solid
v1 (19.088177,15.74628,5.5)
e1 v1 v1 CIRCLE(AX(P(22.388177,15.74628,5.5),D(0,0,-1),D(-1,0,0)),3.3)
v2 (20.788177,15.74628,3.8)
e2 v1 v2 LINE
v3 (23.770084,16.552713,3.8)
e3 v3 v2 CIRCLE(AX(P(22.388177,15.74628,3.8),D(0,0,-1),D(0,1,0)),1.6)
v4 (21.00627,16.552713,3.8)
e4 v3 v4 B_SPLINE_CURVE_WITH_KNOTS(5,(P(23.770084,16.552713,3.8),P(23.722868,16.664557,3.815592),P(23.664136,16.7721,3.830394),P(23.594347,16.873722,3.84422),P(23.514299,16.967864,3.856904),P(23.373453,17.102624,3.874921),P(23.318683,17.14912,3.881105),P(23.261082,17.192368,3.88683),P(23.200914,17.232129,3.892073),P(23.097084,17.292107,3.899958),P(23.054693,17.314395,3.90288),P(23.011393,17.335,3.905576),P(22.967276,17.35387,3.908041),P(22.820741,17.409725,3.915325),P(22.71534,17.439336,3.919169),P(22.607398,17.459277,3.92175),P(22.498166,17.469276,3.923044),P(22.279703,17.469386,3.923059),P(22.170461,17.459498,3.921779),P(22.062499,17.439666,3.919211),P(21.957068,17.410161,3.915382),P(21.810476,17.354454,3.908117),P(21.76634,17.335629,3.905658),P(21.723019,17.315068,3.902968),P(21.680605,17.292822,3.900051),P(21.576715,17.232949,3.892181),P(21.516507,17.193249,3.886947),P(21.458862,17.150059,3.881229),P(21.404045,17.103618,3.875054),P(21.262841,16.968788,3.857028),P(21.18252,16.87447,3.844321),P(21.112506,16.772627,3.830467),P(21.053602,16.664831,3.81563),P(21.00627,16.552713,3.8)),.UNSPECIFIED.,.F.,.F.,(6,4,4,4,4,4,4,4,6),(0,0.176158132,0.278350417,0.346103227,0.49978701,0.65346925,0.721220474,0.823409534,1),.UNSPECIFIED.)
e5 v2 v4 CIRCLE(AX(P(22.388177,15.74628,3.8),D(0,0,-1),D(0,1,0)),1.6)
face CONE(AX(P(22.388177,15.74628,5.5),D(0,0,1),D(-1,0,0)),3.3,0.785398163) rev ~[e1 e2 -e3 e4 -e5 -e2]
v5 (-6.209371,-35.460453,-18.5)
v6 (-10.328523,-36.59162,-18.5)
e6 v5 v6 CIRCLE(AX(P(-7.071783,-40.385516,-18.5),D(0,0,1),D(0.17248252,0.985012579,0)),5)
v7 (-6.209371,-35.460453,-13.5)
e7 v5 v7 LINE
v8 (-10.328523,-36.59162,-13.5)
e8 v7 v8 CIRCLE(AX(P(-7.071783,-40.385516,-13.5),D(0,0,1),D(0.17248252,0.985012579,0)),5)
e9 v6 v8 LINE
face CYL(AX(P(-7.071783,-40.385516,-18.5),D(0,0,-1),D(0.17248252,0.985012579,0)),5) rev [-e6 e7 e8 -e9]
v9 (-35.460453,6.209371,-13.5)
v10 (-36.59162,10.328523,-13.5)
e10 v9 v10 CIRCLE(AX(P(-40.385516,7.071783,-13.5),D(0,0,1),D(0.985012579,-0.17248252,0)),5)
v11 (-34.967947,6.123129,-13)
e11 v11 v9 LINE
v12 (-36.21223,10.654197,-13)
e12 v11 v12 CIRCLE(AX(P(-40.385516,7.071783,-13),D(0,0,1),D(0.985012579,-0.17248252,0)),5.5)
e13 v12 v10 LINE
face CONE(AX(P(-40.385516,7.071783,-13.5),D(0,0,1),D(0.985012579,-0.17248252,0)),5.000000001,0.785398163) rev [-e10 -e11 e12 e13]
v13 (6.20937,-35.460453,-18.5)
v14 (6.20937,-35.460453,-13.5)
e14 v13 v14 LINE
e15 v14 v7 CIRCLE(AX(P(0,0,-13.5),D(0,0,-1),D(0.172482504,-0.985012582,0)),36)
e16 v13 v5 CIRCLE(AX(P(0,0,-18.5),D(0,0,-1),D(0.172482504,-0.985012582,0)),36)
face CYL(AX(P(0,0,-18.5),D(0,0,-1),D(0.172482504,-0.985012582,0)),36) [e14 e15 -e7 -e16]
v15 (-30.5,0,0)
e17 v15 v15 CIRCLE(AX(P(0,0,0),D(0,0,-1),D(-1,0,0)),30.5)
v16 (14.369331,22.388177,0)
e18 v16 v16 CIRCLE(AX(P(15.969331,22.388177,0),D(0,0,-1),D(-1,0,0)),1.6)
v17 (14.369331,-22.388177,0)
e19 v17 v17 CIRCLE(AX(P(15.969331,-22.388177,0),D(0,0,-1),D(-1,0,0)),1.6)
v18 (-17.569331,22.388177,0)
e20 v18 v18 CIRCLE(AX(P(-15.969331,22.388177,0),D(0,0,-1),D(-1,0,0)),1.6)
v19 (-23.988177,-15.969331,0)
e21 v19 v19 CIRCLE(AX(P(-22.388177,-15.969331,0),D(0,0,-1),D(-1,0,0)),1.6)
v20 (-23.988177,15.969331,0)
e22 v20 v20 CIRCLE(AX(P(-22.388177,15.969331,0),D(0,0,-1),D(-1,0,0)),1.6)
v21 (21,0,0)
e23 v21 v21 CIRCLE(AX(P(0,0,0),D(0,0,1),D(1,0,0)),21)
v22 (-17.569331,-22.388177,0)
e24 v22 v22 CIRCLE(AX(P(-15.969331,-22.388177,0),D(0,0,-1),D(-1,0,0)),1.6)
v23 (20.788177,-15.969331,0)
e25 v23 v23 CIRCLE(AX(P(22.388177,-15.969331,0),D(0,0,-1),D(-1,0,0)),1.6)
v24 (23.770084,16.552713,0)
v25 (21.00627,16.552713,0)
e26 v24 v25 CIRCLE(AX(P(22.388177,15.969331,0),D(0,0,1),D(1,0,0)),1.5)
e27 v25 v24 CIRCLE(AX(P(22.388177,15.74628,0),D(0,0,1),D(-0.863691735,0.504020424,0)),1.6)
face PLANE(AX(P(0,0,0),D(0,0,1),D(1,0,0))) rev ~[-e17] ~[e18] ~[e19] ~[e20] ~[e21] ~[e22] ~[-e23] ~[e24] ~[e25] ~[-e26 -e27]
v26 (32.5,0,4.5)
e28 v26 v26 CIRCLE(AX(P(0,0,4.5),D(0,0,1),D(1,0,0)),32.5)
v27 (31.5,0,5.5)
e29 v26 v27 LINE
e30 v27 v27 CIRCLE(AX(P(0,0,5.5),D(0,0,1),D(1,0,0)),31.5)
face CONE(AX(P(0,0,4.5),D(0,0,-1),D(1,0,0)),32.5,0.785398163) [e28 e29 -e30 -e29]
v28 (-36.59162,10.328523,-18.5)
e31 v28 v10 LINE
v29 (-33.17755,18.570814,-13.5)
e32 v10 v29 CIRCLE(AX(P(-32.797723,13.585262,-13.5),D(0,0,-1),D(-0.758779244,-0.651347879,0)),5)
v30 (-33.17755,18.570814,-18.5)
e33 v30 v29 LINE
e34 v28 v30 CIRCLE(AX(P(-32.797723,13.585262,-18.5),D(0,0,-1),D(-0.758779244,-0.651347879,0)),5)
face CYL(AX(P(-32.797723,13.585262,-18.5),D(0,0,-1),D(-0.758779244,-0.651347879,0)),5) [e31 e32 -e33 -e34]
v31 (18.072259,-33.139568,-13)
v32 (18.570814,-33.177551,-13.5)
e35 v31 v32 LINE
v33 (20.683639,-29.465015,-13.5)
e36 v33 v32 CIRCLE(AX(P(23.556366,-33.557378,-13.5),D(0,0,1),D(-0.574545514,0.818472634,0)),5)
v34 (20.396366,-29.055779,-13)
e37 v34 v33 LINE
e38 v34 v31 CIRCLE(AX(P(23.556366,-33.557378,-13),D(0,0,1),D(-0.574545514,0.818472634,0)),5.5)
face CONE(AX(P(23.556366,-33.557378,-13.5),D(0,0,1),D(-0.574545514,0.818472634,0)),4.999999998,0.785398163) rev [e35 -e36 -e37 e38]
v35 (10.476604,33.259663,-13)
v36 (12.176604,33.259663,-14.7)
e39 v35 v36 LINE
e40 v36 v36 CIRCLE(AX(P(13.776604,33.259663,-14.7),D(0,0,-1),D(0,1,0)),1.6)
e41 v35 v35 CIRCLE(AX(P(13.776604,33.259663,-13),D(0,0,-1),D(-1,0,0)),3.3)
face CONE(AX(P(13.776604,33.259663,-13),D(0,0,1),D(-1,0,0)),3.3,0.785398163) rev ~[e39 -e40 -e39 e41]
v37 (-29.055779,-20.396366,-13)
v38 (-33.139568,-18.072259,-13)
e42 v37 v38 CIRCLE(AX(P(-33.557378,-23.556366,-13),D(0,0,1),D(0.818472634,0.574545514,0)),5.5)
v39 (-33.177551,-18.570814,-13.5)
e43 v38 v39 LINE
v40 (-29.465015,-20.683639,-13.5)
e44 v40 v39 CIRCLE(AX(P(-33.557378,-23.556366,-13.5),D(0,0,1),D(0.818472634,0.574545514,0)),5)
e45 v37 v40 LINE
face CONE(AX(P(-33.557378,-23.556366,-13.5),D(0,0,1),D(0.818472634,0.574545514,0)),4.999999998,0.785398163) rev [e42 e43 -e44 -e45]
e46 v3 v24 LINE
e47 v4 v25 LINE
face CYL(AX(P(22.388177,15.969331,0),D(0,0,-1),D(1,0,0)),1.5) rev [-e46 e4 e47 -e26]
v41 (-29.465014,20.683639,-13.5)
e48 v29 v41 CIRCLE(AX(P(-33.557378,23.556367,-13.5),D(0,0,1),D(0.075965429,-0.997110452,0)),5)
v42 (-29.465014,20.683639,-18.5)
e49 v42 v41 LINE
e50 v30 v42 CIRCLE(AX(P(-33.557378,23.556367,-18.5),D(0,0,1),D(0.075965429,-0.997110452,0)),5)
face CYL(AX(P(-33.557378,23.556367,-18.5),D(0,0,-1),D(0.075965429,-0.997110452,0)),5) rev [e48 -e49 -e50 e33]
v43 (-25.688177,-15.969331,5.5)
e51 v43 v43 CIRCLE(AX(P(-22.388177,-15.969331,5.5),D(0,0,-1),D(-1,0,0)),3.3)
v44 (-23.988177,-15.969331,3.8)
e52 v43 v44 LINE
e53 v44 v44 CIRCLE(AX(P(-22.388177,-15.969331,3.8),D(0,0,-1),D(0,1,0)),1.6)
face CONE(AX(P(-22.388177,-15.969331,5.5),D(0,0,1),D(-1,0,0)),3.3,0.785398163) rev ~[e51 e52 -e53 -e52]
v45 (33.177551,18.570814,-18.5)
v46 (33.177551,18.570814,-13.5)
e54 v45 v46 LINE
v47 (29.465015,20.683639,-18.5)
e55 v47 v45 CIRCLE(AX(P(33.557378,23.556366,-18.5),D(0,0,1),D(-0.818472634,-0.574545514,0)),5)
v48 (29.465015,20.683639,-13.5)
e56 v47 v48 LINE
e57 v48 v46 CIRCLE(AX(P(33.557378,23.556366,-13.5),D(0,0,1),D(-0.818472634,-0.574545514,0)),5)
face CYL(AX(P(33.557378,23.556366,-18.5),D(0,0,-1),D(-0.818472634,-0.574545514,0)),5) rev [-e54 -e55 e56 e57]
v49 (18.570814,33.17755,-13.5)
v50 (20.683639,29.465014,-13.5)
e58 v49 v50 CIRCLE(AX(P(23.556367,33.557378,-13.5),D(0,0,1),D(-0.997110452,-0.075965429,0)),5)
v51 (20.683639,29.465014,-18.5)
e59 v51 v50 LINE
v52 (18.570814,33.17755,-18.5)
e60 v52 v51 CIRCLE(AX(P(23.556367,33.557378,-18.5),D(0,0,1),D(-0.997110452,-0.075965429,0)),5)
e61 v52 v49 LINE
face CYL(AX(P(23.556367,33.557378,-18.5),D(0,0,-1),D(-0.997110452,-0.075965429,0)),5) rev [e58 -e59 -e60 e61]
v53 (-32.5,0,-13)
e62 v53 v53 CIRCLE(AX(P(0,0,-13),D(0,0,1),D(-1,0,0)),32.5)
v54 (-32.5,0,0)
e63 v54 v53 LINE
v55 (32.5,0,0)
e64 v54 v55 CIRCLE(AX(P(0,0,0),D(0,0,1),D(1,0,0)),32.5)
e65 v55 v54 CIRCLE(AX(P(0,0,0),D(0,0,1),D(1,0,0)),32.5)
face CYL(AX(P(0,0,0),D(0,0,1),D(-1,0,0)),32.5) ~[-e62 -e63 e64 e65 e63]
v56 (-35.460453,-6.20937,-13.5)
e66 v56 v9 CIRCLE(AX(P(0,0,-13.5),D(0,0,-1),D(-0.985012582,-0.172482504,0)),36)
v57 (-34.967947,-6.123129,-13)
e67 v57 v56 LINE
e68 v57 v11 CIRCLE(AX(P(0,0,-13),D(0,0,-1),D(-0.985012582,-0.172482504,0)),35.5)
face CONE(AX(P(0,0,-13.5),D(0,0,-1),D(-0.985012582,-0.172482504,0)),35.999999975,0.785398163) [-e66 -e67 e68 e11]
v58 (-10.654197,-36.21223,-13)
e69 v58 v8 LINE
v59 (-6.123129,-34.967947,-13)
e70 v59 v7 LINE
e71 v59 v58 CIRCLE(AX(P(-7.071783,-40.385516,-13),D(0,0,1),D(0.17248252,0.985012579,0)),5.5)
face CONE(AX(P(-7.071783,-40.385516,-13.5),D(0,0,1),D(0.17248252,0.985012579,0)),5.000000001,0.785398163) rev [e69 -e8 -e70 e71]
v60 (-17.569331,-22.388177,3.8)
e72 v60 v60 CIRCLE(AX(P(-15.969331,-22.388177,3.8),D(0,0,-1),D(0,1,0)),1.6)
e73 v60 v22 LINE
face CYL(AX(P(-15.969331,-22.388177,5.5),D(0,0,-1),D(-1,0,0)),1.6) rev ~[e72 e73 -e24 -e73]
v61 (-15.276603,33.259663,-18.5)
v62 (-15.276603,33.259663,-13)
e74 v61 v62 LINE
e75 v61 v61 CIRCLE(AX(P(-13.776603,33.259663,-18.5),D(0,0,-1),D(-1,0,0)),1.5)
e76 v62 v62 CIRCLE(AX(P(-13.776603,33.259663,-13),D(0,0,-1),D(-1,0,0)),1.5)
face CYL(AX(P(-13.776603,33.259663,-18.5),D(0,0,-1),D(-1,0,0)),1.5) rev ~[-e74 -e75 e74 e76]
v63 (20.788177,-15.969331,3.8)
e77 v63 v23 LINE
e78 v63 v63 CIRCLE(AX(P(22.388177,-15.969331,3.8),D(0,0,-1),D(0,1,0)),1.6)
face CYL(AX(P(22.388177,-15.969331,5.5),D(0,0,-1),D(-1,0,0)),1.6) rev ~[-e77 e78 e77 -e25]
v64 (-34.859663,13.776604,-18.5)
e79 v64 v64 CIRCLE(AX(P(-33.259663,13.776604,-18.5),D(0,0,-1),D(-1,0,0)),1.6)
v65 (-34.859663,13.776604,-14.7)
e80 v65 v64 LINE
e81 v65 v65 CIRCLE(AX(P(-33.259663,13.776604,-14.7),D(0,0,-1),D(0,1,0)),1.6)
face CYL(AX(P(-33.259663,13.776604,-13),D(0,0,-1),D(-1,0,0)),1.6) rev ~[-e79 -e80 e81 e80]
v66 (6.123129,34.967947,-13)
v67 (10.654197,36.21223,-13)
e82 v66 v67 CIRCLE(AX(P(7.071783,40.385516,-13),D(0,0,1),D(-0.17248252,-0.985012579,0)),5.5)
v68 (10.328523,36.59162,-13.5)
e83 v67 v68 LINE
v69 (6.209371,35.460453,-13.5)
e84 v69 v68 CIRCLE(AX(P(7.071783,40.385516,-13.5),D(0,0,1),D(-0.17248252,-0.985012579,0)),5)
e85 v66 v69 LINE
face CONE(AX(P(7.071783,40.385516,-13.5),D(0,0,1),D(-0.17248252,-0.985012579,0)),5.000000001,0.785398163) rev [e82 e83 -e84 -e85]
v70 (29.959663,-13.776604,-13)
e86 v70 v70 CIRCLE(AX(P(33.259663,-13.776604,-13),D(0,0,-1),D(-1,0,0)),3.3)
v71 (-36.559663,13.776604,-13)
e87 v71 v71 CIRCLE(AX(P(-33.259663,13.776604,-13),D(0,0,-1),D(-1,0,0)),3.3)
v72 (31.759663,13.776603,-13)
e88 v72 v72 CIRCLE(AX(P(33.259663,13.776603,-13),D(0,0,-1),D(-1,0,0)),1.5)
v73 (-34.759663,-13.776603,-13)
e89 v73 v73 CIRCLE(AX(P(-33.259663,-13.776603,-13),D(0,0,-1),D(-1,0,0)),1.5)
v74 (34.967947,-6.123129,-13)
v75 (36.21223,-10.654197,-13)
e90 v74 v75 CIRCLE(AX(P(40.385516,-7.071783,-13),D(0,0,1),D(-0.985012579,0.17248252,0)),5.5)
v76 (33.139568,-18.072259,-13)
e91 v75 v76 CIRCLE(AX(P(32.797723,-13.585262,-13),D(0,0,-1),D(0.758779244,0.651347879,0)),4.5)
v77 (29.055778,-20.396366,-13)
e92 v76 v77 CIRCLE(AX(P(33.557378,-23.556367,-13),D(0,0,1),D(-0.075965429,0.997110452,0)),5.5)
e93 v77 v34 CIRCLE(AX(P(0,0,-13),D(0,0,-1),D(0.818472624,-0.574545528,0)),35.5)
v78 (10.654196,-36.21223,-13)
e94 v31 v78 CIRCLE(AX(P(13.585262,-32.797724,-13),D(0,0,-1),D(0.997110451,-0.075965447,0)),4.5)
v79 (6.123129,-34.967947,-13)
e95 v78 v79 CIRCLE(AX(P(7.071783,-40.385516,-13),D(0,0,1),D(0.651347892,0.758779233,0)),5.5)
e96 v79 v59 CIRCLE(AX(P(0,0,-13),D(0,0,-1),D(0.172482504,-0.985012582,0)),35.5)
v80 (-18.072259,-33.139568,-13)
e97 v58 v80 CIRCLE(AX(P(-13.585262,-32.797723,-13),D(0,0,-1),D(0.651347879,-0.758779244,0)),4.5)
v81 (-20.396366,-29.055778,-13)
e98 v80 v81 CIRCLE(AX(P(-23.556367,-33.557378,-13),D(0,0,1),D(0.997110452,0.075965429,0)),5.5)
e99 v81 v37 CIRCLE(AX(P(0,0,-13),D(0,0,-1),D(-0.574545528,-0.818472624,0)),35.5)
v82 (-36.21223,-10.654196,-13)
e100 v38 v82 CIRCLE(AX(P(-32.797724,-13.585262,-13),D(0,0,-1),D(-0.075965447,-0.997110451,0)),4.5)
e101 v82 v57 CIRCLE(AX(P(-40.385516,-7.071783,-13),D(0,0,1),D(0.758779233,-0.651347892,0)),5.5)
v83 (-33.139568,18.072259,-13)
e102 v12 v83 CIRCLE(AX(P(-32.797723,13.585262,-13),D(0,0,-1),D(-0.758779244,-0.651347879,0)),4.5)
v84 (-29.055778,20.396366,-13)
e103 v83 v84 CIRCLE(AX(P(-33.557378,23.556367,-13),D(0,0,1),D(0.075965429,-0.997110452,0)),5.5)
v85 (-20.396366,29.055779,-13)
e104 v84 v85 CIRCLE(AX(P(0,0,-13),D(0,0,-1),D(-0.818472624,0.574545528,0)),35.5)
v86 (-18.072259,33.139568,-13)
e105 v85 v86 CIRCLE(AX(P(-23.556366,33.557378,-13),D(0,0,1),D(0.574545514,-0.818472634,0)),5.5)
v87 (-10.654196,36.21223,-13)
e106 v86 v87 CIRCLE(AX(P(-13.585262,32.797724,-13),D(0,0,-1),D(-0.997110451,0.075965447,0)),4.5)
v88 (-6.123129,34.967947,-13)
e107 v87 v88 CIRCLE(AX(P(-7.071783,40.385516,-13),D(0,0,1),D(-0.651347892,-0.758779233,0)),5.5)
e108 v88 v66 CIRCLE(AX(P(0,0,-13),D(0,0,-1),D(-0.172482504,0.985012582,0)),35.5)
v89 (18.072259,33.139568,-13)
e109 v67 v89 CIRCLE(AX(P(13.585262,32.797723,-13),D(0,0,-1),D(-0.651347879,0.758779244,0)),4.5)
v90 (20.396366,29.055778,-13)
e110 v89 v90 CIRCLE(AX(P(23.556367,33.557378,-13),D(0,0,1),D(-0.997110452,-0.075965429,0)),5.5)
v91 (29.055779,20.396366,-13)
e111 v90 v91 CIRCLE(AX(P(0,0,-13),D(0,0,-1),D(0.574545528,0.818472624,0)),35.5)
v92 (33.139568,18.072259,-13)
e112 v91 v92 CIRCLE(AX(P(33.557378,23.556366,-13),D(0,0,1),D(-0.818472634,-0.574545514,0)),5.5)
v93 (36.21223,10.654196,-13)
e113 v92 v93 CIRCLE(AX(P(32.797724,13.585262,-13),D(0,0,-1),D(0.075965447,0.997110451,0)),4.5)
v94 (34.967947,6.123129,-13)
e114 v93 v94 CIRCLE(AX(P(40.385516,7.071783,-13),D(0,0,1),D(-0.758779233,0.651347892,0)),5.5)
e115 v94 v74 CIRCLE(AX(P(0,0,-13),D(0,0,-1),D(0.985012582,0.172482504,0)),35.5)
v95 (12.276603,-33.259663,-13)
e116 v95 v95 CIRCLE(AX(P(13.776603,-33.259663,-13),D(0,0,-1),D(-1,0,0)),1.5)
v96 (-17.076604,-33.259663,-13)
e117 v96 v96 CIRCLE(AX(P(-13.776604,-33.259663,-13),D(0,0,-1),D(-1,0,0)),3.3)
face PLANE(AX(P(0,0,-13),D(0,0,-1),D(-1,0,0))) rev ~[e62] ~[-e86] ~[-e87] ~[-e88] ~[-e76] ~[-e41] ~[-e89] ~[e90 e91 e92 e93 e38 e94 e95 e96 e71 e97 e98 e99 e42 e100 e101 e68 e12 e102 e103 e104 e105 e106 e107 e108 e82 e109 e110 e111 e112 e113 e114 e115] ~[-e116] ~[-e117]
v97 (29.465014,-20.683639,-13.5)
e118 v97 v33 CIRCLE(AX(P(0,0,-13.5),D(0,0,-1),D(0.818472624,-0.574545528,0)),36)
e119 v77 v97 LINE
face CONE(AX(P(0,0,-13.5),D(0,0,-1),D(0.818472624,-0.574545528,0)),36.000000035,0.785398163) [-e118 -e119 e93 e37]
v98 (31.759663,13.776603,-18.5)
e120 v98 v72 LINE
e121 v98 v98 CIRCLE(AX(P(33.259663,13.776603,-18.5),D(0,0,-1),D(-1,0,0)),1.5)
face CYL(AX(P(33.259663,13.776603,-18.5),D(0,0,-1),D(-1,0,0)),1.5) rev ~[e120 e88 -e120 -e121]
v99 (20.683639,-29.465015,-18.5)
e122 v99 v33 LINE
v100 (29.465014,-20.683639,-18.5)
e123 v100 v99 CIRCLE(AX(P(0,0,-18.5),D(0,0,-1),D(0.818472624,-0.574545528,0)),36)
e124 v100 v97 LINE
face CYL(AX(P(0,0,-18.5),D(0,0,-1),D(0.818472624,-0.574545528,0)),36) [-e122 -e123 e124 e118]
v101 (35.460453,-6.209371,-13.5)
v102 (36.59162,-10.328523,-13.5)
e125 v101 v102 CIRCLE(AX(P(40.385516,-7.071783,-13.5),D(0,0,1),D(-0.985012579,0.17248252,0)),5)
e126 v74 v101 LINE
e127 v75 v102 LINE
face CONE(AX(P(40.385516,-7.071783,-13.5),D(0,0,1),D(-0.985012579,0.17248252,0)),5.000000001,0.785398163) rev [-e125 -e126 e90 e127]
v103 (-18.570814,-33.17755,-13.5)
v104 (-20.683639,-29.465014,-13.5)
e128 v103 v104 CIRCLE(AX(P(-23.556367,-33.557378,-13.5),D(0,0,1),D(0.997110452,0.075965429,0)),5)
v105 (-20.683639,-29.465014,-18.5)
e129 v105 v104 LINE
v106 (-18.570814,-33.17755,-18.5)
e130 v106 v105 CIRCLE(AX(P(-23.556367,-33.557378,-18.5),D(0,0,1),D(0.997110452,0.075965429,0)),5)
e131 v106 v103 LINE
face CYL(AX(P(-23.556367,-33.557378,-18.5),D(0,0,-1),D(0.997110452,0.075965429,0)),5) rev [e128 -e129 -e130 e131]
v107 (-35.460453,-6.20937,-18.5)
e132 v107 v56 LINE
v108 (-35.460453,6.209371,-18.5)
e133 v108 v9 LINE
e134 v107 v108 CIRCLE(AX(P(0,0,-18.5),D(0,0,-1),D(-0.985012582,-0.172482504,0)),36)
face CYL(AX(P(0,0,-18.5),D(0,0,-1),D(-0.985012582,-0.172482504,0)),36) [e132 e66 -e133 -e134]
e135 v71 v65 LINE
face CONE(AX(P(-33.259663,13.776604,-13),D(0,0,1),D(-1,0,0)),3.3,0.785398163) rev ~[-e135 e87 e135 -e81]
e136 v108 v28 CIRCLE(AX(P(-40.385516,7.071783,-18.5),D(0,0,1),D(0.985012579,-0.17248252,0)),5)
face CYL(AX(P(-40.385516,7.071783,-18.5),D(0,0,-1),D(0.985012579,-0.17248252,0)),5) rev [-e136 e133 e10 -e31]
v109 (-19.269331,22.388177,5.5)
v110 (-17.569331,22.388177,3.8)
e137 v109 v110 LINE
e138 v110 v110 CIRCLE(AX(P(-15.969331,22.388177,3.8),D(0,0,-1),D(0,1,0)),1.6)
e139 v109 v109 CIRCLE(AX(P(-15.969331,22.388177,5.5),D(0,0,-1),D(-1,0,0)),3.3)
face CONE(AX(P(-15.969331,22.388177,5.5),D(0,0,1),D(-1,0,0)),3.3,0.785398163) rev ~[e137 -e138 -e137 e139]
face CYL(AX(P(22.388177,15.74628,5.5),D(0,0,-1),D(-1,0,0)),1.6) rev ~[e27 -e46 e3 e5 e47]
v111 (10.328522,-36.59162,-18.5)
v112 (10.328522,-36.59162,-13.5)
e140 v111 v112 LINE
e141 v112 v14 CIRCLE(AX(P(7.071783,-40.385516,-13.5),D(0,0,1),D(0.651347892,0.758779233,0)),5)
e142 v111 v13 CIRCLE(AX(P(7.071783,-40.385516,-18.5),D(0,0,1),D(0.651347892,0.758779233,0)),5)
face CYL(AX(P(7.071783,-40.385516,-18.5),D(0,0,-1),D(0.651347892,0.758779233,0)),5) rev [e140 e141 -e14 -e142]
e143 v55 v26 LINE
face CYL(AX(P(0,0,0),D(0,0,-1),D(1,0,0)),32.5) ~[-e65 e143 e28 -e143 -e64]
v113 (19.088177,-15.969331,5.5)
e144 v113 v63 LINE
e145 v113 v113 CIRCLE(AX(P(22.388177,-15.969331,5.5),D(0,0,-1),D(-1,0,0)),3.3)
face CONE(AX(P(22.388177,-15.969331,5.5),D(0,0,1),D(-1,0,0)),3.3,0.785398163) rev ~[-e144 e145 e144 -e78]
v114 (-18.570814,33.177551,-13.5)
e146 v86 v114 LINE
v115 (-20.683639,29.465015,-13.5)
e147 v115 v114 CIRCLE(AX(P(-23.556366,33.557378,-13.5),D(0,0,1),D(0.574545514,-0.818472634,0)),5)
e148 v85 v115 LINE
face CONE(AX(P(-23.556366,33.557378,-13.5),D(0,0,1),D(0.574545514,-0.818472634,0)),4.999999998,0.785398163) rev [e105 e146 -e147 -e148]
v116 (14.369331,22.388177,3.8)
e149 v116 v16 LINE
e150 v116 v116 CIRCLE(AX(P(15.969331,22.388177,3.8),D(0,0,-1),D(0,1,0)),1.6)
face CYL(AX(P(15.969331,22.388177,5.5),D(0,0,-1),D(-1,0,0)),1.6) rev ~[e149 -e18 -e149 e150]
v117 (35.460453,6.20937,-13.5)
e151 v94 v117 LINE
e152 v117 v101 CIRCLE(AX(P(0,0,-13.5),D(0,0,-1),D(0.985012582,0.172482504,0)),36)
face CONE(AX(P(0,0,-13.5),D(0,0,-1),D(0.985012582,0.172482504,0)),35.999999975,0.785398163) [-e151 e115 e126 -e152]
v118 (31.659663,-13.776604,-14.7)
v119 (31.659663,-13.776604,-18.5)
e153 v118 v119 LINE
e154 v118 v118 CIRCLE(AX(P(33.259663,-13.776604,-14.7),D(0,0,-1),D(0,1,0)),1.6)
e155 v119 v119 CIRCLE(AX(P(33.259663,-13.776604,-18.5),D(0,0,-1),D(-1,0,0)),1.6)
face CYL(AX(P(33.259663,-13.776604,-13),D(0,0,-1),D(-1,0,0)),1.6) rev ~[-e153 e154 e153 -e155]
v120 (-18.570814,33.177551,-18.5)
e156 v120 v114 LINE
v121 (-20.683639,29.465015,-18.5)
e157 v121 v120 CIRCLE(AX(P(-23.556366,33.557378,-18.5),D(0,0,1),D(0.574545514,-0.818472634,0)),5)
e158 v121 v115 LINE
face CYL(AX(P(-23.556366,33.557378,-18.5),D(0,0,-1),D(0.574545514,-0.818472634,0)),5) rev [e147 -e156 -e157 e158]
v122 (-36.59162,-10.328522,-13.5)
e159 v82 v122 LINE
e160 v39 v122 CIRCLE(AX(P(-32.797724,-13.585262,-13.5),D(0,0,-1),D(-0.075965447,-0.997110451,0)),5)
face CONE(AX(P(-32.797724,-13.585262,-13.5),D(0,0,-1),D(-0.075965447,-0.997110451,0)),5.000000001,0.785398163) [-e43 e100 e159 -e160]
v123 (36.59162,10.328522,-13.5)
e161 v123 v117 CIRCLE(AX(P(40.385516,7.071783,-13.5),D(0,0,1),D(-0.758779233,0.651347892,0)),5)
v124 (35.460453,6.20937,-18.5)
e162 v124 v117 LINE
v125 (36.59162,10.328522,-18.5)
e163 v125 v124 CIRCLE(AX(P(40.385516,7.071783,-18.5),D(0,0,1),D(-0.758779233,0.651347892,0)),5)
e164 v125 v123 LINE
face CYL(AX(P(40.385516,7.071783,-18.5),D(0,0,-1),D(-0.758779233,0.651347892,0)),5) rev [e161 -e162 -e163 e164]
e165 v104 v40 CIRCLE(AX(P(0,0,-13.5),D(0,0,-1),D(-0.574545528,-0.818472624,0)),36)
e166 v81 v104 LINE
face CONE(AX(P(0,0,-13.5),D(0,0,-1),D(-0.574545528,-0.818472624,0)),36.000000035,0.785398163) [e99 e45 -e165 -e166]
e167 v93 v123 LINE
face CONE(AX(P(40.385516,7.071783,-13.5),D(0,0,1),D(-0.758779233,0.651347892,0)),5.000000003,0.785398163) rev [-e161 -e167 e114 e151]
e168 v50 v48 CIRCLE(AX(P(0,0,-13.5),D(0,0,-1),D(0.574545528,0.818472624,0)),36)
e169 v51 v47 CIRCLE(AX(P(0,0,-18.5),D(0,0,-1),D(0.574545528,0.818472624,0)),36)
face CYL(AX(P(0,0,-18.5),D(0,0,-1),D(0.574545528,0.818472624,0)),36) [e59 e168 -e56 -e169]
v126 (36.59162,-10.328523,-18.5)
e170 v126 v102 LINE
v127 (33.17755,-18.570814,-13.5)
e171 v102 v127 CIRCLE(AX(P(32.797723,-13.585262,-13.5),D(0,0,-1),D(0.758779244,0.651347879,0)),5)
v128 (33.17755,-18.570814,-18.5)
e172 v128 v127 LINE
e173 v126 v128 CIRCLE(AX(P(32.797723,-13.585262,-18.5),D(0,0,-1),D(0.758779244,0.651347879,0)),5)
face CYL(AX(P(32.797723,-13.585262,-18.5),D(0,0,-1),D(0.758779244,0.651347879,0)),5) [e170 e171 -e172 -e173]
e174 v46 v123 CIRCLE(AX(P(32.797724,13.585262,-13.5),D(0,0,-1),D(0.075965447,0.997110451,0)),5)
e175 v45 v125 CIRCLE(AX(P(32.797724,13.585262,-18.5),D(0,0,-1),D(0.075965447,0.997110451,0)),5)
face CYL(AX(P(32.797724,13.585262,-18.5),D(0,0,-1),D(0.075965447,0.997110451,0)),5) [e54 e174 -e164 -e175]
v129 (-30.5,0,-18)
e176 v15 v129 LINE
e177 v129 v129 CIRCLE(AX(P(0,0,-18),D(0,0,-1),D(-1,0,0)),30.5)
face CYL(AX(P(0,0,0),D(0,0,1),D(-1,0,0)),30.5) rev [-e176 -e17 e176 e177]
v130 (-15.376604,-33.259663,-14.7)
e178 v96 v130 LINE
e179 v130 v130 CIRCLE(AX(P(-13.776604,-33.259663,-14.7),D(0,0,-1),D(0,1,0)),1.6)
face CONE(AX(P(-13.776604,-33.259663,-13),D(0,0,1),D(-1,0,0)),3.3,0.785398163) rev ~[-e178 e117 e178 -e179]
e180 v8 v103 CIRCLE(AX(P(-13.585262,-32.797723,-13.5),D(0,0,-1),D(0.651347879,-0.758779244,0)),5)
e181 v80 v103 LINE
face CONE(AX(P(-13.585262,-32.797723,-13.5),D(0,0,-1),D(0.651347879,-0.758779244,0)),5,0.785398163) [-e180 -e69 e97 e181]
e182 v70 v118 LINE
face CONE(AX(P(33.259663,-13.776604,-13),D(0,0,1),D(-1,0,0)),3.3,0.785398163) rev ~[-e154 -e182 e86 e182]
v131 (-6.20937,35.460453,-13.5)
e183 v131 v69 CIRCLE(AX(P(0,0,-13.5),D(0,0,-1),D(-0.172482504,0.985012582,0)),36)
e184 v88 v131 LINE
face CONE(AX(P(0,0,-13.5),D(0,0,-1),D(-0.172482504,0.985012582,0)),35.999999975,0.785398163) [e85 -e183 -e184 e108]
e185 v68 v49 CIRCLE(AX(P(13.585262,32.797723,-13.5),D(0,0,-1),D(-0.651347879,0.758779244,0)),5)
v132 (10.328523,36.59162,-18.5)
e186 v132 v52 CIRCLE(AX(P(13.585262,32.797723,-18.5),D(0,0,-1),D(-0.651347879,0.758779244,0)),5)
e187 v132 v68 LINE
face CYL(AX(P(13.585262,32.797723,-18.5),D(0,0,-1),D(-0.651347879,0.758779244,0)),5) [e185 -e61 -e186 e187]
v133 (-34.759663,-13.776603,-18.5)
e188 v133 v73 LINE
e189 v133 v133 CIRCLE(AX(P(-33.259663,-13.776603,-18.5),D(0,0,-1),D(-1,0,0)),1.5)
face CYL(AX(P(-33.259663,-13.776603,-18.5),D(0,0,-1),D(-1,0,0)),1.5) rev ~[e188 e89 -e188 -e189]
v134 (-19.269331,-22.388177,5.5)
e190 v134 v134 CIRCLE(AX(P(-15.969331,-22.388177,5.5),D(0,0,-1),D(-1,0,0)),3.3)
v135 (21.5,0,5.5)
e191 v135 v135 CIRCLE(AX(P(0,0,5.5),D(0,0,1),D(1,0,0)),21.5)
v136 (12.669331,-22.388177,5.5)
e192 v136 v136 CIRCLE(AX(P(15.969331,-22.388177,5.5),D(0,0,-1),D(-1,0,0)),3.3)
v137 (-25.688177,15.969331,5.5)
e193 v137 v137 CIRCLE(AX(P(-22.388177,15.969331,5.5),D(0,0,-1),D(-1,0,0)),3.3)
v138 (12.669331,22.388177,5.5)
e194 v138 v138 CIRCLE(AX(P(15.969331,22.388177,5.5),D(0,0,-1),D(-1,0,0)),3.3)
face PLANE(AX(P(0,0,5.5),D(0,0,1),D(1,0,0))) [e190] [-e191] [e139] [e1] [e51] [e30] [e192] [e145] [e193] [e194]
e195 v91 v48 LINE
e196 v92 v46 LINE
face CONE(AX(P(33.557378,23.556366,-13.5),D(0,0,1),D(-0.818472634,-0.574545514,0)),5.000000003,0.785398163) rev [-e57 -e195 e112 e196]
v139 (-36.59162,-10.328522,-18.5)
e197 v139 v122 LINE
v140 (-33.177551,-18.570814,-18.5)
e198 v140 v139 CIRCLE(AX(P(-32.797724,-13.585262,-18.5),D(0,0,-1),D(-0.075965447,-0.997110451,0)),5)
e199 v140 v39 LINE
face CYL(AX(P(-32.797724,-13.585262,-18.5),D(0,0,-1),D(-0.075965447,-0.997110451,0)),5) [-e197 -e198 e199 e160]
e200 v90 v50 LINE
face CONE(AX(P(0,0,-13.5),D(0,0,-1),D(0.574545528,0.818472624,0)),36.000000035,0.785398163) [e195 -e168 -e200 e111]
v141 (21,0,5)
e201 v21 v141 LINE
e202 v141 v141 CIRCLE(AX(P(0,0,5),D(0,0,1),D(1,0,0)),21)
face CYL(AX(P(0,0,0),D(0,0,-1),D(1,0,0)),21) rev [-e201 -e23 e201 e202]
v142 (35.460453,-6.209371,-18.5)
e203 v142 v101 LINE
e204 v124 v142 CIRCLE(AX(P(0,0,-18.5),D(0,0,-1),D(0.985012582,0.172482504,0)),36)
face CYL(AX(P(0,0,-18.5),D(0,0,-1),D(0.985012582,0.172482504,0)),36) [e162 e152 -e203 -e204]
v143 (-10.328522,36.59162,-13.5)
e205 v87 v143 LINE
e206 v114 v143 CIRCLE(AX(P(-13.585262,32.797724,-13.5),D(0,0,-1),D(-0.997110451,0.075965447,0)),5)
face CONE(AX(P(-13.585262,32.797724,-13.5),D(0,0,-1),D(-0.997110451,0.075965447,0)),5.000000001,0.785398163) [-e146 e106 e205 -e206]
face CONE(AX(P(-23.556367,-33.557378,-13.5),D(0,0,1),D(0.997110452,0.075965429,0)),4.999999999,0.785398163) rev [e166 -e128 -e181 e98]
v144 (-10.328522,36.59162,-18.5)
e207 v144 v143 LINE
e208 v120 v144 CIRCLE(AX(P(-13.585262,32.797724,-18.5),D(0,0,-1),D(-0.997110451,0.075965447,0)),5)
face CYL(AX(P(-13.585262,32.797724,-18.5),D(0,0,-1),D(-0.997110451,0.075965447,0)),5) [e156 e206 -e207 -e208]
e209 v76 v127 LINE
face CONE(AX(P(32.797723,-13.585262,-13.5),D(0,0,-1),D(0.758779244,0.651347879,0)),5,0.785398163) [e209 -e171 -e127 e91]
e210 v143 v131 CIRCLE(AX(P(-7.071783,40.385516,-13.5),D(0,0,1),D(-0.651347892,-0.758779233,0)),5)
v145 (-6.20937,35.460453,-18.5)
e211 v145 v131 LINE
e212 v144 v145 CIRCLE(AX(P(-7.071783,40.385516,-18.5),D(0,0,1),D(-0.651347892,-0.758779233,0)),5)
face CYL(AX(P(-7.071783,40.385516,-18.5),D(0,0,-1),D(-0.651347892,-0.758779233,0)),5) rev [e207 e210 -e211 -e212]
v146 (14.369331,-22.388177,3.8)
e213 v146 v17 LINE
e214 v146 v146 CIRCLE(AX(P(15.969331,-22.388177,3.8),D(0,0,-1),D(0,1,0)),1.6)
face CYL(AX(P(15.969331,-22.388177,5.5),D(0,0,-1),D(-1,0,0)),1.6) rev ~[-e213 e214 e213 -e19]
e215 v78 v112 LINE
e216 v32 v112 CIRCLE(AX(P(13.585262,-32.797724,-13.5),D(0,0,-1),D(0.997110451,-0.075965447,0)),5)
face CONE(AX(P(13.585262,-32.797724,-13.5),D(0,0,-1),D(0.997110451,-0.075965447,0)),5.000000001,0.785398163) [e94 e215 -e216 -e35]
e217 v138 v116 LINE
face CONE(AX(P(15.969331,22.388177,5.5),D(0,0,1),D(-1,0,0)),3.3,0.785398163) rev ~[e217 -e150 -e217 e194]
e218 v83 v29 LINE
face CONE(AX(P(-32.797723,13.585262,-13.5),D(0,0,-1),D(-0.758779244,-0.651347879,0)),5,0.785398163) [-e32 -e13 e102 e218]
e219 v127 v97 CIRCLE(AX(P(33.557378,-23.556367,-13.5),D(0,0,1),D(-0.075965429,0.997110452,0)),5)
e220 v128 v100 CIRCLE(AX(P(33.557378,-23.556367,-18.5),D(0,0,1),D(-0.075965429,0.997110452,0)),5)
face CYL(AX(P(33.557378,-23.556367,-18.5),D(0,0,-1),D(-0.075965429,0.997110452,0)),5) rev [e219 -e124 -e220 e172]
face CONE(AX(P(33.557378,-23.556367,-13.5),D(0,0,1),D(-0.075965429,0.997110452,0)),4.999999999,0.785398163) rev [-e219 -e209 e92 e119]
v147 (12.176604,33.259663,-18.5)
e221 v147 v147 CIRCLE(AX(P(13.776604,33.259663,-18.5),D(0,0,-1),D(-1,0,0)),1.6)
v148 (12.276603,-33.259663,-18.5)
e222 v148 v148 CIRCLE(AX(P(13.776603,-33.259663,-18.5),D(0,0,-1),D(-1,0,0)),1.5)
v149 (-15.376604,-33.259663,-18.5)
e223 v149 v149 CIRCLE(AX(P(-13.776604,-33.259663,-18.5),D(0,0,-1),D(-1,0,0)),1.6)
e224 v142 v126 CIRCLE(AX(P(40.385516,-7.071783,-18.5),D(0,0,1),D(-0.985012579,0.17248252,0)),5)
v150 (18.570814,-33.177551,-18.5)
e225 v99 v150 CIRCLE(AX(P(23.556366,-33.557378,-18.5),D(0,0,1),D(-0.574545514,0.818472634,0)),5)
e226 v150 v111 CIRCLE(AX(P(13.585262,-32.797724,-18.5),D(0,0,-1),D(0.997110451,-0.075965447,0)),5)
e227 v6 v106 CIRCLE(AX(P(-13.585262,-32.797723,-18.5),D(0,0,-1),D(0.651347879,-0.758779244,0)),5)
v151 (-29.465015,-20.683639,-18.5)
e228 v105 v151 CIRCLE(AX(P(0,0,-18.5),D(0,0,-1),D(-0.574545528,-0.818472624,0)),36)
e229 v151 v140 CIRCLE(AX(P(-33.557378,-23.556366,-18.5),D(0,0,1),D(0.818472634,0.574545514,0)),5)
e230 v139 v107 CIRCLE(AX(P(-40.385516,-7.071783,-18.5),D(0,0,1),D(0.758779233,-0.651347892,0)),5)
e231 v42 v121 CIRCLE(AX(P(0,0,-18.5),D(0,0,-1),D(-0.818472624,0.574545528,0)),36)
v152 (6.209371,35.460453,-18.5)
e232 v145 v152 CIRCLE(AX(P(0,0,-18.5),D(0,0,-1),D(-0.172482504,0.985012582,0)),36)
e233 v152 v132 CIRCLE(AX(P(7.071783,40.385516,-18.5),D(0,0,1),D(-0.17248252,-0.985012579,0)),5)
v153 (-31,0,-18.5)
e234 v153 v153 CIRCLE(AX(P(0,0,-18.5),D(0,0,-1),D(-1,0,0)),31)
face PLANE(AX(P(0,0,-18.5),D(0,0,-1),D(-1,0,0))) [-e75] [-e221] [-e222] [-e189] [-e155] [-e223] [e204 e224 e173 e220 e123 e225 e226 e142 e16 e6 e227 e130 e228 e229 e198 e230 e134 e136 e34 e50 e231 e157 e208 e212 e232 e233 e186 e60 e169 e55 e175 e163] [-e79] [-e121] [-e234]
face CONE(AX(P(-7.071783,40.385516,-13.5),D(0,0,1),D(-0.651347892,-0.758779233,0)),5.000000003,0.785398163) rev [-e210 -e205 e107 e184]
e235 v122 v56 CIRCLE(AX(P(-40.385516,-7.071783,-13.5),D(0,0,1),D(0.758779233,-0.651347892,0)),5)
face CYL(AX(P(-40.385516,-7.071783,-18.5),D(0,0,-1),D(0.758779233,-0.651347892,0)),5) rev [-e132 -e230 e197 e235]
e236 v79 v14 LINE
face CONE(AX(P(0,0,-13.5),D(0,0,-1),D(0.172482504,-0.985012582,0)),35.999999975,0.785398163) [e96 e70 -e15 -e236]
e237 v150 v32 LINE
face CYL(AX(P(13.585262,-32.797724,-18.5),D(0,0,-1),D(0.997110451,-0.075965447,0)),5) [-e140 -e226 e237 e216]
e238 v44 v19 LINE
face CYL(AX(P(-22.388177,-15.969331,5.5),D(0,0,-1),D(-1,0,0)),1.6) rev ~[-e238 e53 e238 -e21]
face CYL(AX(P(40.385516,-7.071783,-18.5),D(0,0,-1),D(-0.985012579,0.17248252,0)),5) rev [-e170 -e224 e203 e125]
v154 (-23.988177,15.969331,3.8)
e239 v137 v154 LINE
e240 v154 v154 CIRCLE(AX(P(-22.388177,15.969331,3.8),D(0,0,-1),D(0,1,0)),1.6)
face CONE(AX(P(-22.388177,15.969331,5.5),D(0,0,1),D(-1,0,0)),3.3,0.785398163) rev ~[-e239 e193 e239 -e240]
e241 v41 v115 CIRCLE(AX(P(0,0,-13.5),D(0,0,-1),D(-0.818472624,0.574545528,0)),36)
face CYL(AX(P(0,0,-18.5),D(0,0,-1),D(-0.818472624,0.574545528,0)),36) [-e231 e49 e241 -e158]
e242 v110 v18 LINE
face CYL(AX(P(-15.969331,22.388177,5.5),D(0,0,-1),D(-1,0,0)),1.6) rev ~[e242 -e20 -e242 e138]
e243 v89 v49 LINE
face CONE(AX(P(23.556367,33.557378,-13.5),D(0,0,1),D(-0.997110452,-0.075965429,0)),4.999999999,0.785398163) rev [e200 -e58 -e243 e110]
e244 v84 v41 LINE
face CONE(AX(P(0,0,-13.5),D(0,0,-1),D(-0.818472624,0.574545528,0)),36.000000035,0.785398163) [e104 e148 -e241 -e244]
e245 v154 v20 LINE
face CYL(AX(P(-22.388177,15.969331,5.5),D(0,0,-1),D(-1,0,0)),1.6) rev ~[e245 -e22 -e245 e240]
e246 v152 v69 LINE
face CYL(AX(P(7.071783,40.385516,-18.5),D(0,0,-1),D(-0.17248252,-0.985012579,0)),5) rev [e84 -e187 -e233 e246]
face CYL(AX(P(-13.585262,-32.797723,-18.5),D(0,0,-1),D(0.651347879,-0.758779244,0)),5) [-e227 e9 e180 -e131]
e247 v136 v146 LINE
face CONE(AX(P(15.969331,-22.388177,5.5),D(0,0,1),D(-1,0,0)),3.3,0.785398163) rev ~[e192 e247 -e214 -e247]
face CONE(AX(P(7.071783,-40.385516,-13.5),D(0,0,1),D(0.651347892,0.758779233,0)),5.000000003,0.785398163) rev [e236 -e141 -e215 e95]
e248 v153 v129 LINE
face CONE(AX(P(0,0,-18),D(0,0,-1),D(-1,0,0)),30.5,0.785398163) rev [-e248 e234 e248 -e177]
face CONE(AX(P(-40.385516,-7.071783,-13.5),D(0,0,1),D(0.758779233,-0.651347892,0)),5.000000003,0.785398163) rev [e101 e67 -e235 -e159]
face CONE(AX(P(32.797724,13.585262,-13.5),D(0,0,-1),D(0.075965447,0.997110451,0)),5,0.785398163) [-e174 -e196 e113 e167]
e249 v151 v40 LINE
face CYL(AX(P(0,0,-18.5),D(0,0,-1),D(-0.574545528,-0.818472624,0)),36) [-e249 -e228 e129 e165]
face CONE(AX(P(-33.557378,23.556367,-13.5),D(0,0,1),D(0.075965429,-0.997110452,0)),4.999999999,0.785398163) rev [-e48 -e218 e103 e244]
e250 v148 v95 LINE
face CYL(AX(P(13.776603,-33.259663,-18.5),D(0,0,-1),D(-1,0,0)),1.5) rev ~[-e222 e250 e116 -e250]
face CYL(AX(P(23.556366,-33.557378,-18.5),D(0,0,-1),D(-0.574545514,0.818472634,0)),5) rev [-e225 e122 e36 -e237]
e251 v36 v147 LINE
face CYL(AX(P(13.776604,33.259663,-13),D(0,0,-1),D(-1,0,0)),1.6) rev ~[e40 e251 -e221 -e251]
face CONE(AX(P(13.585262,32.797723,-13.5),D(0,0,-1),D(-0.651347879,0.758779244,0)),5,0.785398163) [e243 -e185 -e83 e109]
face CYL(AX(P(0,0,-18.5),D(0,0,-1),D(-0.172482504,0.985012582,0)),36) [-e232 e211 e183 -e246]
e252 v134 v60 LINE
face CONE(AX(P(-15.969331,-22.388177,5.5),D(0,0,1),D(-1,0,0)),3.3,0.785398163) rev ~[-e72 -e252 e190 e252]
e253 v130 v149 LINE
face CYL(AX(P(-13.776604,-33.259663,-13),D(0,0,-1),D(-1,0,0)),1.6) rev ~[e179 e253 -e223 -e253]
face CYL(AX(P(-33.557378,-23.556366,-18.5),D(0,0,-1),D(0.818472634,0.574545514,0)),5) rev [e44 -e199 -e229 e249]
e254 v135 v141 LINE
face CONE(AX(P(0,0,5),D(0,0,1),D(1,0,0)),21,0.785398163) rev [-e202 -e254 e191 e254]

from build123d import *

# Parameters (mm, degrees)
SKETCH_2_R                = 32.5
SKETCH_2_R_2              = 1.5
SKETCH_2_R_3              = 21
EXTRUDE_1_DEPTH           = 5.5
SKETCH_3_R                = 32.5
SKETCH_3_R_2              = 30.5
EXTRUDE_2_DEPTH           = 18.5
SKETCH_4_R                = 1.5
SKETCH_4_R_2              = 30.5
EXTRUDE_3_DEPTH           = 5.5
CHAMFER_1_SIZE            = 1
CHAMFER_3_SIZE            = 0.5
HOLE_WIZARD_0_D           = 3.2
HOLE_WIZARD_0_DEPTH       = 8.1
HOLE_WIZARD_0_CSINK_D     = 6.6
HOLE_WIZARD_0_CSINK_ANGLE = 90
HOLE_WIZARD_0_TIP         = 0.96137699
HOLE_WIZARD_1_D           = 3.2
HOLE_WIZARD_1_DEPTH       = 8.1
HOLE_WIZARD_1_CSINK_D     = 6.6
HOLE_WIZARD_1_CSINK_ANGLE = 90
HOLE_WIZARD_1_TIP         = 0.96137699


with BuildPart() as part:
    # 草图2 → 凸台-拉伸1 (new body)
    with BuildSketch(Plane.XY):
        Circle(SKETCH_2_R)
        with Locations((-15.969331282, -22.388176755)):
            Circle(SKETCH_2_R_2, mode=Mode.SUBTRACT)
        with Locations((-22.388176755, -15.969331282)):
            Circle(SKETCH_2_R_2, mode=Mode.SUBTRACT)
        with Locations((-22.388176755, 15.969331282)):
            Circle(SKETCH_2_R_2, mode=Mode.SUBTRACT)
        with Locations((-15.969331282, 22.388176755)):
            Circle(SKETCH_2_R_2, mode=Mode.SUBTRACT)
        with Locations((15.969331282, 22.388176755)):
            Circle(SKETCH_2_R_2, mode=Mode.SUBTRACT)
        with Locations((22.388176755, 15.969331282)):
            Circle(SKETCH_2_R_2, mode=Mode.SUBTRACT)
        with Locations((22.388176755, -15.969331282)):
            Circle(SKETCH_2_R_2, mode=Mode.SUBTRACT)
        with Locations((15.969331282, -22.388176755)):
            Circle(SKETCH_2_R_2, mode=Mode.SUBTRACT)
        Circle(SKETCH_2_R_3, mode=Mode.SUBTRACT)
    extrude(amount=EXTRUDE_1_DEPTH)

    # 草图3 → 凸台-拉伸2 (add)
    with BuildSketch(Plane(origin=(0, 0, 0), x_dir=(-1, 0, 0), z_dir=(0, 0, -1))):
        Circle(SKETCH_3_R)
        Circle(SKETCH_3_R_2, mode=Mode.SUBTRACT)
    extrude(amount=EXTRUDE_2_DEPTH)

    # 草图4 → 凸台-拉伸3 (add)
    with BuildSketch(Plane(origin=(0, 0, -18.5), x_dir=(-1, 0, 0), z_dir=(0, 0, -1))):
        with BuildLine():
            ThreePointArc((-10.328522738, 36.591619506), (-15.498679334, 37.417120933), (-18.570814392, 33.177550434))
            ThreePointArc((-18.570814392, 33.177550434), (-19.210808968, 31.084296828), (-20.683639012, 29.465014462))
            ThreePointArc((-20.683639012, 29.465014462), (-25.455844342, 25.455843903), (-29.465014819, 20.683638503))
            ThreePointArc((-29.465014819, 20.683638503), (-31.084297159, 19.210808432), (-33.177550755, 18.570813819))
            ThreePointArc((-33.177550755, 18.570813819), (-37.4171212, 15.498678688), (-36.591619684, 10.328522106))
            ThreePointArc((-36.591619684, 10.328522106), (-35.564010369, 8.395823782), (-35.460452938, 6.209370129))
            ThreePointArc((-35.460452938, 6.209370129), (-36, -3.11e-07), (-35.460452831, -6.209370741))
            ThreePointArc((-35.460452831, -6.209370741), (-35.564010224, -8.395824396), (-36.591619506, -10.328522738))
            ThreePointArc((-36.591619506, -10.328522738), (-37.417120933, -15.498679334), (-33.177550434, -18.570814392))
            ThreePointArc((-33.177550434, -18.570814392), (-31.084296828, -19.210808968), (-29.465014462, -20.683639012))
            ThreePointArc((-29.465014462, -20.683639012), (-25.455843903, -25.455844342), (-20.683638503, -29.465014819))
            ThreePointArc((-20.683638503, -29.465014819), (-19.210808432, -31.084297159), (-18.57081382, -33.177550755))
            ThreePointArc((-18.57081382, -33.177550755), (-15.498678688, -37.4171212), (-10.328522106, -36.591619684))
            ThreePointArc((-10.328522106, -36.591619684), (-8.395823782, -35.564010369), (-6.209370129, -35.460452938))
            ThreePointArc((-6.209370129, -35.460452938), (3.11e-07, -36), (6.209370741, -35.460452831))
            ThreePointArc((6.209370741, -35.460452831), (8.395824396, -35.564010224), (10.328522738, -36.591619506))
            ThreePointArc((10.328522738, -36.591619506), (15.498679334, -37.417120933), (18.570814392, -33.177550434))
            ThreePointArc((18.570814392, -33.177550434), (19.210808968, -31.084296828), (20.683639012, -29.465014462))
            ThreePointArc((20.683639012, -29.465014462), (25.455844342, -25.455843903), (29.465014819, -20.683638503))
            ThreePointArc((29.465014819, -20.683638503), (31.084297159, -19.210808432), (33.177550755, -18.57081382))
            ThreePointArc((33.177550755, -18.57081382), (37.4171212, -15.498678688), (36.591619684, -10.328522106))
            ThreePointArc((36.591619684, -10.328522106), (35.564010369, -8.395823782), (35.460452938, -6.209370129))
            ThreePointArc((35.460452938, -6.209370129), (36, 3.11e-07), (35.460452831, 6.209370741))
            ThreePointArc((35.460452831, 6.209370741), (35.564010224, 8.395824396), (36.591619506, 10.328522738))
            ThreePointArc((36.591619506, 10.328522738), (37.417120933, 15.498679334), (33.177550434, 18.570814392))
            ThreePointArc((33.177550434, 18.570814392), (31.084296828, 19.210808968), (29.465014462, 20.683639012))
            ThreePointArc((29.465014462, 20.683639012), (25.455843903, 25.455844342), (20.683638503, 29.465014819))
            ThreePointArc((20.683638503, 29.465014819), (19.210808432, 31.084297159), (18.57081382, 33.177550755))
            ThreePointArc((18.57081382, 33.177550755), (15.498678688, 37.4171212), (10.328522106, 36.591619684))
            ThreePointArc((10.328522106, 36.591619684), (8.395823782, 35.564010369), (6.209370129, 35.460452938))
            ThreePointArc((6.209370129, 35.460452938), (-3.11e-07, 36), (-6.209370741, 35.460452831))
            ThreePointArc((-6.209370741, 35.460452831), (-8.395824396, 35.564010224), (-10.328522738, 36.591619506))
        make_face()
        with Locations((-13.776603852, 33.259663052)):
            Circle(SKETCH_4_R, mode=Mode.SUBTRACT)
        with Locations((13.776603278, 33.259663289)):
            Circle(SKETCH_4_R, mode=Mode.SUBTRACT)
        with Locations((33.259663052, 13.776603852)):
            Circle(SKETCH_4_R, mode=Mode.SUBTRACT)
        with Locations((33.259663289, -13.776603278)):
            Circle(SKETCH_4_R, mode=Mode.SUBTRACT)
        with Locations((13.776603852, -33.259663052)):
            Circle(SKETCH_4_R, mode=Mode.SUBTRACT)
        with Locations((-13.776603278, -33.259663289)):
            Circle(SKETCH_4_R, mode=Mode.SUBTRACT)
        with Locations((-33.259663052, -13.776603852)):
            Circle(SKETCH_4_R, mode=Mode.SUBTRACT)
        with Locations((-33.259663289, 13.776603278)):
            Circle(SKETCH_4_R, mode=Mode.SUBTRACT)
        Circle(SKETCH_4_R_2, mode=Mode.SUBTRACT)
    extrude(amount=-EXTRUDE_3_DEPTH)

    # 倒角1
    chamfer_1_edges = [part.edges().sort_by_distance(p)[0] for p in [
        (-32.5, 0, 5.5),
    ]]
    chamfer(chamfer_1_edges, length=CHAMFER_1_SIZE)

    # 倒角3
    chamfer_3_edges = [part.edges().sort_by_distance(p)[0] for p in [
        (-21, 0, 5.5),
        (30.5, 0, -18.5),
        (8.395824396, 35.564010224, -13),
        (3.11e-07, 36, -13),
        (-8.395823782, 35.564010369, -13),
        (-15.498678688, 37.4171212, -13),
        (-19.210808432, 31.084297159, -13),
        (-25.455843903, 25.455844342, -13),
        (-31.084296828, 19.210808968, -13),
        (-37.417120933, 15.498679334, -13),
        (-35.564010224, 8.395824396, -13),
        (-36, 3.11e-07, -13),
        (-35.564010369, -8.395823782, -13),
        (-37.4171212, -15.498678688, -13),
        (-31.084297159, -19.210808432, -13),
        (-25.455844342, -25.455843903, -13),
        (-19.210808968, -31.084296828, -13),
        (-15.498679334, -37.417120933, -13),
        (-8.395824396, -35.564010224, -13),
        (-3.11e-07, -36, -13),
        (8.395823782, -35.564010369, -13),
        (15.498678688, -37.4171212, -13),
        (19.210808432, -31.084297159, -13),
        (25.455843903, -25.455844342, -13),
        (31.084296828, -19.210808968, -13),
        (37.417120933, -15.498679334, -13),
        (35.564010224, -8.395824396, -13),
        (36, -3.11e-07, -13),
        (35.564010369, 8.395823782, -13),
        (37.4171212, 15.498678688, -13),
        (31.084297159, 19.210808432, -13),
        (25.455844342, 25.455843903, -13),
        (19.210808968, 31.084296828, -13),
        (15.498679334, 37.417120933, -13),
    ]]
    chamfer(chamfer_3_edges, length=CHAMFER_3_SIZE)

    # 打孔尺寸(%根据十字)槽沉头木螺钉的类型0
    with Locations(Plane.XY.offset(-13)):
        with Locations((13.776603852, 33.259663052), (33.259663052, -13.776603852), (-13.776603852, -33.259663052), (-33.259663052, 13.776603852)):
            CounterSinkHole(HOLE_WIZARD_0_D / 2, HOLE_WIZARD_0_CSINK_D / 2, depth=HOLE_WIZARD_0_DEPTH, counter_sink_angle=HOLE_WIZARD_0_CSINK_ANGLE)
            with Locations((0, 0, -(HOLE_WIZARD_0_DEPTH + HOLE_WIZARD_0_TIP / 2))):  # 118° drill point
                Cone(0, HOLE_WIZARD_0_D / 2, HOLE_WIZARD_0_TIP, mode=Mode.SUBTRACT)

    # 打孔尺寸(%根据十字)槽沉头木螺钉的类型1
    with Locations(Plane.XY.offset(5.5)):
        with Locations((-15.969331282, 22.388176755), (-22.388176755, 15.969331282), (-22.388176755, -15.969331282), (-15.969331282, -22.388176755), (15.969331282, -22.388176755), (22.388176755, -15.969331282), (22.388176755, 15.746279838), (15.969331282, 22.388176755)):
            CounterSinkHole(HOLE_WIZARD_1_D / 2, HOLE_WIZARD_1_CSINK_D / 2, depth=HOLE_WIZARD_1_DEPTH, counter_sink_angle=HOLE_WIZARD_1_CSINK_ANGLE)
            with Locations((0, 0, -(HOLE_WIZARD_1_DEPTH + HOLE_WIZARD_1_TIP / 2))):  # 118° drill point
                Cone(0, HOLE_WIZARD_1_D / 2, HOLE_WIZARD_1_TIP, mode=Mode.SUBTRACT)


solid = part.part
